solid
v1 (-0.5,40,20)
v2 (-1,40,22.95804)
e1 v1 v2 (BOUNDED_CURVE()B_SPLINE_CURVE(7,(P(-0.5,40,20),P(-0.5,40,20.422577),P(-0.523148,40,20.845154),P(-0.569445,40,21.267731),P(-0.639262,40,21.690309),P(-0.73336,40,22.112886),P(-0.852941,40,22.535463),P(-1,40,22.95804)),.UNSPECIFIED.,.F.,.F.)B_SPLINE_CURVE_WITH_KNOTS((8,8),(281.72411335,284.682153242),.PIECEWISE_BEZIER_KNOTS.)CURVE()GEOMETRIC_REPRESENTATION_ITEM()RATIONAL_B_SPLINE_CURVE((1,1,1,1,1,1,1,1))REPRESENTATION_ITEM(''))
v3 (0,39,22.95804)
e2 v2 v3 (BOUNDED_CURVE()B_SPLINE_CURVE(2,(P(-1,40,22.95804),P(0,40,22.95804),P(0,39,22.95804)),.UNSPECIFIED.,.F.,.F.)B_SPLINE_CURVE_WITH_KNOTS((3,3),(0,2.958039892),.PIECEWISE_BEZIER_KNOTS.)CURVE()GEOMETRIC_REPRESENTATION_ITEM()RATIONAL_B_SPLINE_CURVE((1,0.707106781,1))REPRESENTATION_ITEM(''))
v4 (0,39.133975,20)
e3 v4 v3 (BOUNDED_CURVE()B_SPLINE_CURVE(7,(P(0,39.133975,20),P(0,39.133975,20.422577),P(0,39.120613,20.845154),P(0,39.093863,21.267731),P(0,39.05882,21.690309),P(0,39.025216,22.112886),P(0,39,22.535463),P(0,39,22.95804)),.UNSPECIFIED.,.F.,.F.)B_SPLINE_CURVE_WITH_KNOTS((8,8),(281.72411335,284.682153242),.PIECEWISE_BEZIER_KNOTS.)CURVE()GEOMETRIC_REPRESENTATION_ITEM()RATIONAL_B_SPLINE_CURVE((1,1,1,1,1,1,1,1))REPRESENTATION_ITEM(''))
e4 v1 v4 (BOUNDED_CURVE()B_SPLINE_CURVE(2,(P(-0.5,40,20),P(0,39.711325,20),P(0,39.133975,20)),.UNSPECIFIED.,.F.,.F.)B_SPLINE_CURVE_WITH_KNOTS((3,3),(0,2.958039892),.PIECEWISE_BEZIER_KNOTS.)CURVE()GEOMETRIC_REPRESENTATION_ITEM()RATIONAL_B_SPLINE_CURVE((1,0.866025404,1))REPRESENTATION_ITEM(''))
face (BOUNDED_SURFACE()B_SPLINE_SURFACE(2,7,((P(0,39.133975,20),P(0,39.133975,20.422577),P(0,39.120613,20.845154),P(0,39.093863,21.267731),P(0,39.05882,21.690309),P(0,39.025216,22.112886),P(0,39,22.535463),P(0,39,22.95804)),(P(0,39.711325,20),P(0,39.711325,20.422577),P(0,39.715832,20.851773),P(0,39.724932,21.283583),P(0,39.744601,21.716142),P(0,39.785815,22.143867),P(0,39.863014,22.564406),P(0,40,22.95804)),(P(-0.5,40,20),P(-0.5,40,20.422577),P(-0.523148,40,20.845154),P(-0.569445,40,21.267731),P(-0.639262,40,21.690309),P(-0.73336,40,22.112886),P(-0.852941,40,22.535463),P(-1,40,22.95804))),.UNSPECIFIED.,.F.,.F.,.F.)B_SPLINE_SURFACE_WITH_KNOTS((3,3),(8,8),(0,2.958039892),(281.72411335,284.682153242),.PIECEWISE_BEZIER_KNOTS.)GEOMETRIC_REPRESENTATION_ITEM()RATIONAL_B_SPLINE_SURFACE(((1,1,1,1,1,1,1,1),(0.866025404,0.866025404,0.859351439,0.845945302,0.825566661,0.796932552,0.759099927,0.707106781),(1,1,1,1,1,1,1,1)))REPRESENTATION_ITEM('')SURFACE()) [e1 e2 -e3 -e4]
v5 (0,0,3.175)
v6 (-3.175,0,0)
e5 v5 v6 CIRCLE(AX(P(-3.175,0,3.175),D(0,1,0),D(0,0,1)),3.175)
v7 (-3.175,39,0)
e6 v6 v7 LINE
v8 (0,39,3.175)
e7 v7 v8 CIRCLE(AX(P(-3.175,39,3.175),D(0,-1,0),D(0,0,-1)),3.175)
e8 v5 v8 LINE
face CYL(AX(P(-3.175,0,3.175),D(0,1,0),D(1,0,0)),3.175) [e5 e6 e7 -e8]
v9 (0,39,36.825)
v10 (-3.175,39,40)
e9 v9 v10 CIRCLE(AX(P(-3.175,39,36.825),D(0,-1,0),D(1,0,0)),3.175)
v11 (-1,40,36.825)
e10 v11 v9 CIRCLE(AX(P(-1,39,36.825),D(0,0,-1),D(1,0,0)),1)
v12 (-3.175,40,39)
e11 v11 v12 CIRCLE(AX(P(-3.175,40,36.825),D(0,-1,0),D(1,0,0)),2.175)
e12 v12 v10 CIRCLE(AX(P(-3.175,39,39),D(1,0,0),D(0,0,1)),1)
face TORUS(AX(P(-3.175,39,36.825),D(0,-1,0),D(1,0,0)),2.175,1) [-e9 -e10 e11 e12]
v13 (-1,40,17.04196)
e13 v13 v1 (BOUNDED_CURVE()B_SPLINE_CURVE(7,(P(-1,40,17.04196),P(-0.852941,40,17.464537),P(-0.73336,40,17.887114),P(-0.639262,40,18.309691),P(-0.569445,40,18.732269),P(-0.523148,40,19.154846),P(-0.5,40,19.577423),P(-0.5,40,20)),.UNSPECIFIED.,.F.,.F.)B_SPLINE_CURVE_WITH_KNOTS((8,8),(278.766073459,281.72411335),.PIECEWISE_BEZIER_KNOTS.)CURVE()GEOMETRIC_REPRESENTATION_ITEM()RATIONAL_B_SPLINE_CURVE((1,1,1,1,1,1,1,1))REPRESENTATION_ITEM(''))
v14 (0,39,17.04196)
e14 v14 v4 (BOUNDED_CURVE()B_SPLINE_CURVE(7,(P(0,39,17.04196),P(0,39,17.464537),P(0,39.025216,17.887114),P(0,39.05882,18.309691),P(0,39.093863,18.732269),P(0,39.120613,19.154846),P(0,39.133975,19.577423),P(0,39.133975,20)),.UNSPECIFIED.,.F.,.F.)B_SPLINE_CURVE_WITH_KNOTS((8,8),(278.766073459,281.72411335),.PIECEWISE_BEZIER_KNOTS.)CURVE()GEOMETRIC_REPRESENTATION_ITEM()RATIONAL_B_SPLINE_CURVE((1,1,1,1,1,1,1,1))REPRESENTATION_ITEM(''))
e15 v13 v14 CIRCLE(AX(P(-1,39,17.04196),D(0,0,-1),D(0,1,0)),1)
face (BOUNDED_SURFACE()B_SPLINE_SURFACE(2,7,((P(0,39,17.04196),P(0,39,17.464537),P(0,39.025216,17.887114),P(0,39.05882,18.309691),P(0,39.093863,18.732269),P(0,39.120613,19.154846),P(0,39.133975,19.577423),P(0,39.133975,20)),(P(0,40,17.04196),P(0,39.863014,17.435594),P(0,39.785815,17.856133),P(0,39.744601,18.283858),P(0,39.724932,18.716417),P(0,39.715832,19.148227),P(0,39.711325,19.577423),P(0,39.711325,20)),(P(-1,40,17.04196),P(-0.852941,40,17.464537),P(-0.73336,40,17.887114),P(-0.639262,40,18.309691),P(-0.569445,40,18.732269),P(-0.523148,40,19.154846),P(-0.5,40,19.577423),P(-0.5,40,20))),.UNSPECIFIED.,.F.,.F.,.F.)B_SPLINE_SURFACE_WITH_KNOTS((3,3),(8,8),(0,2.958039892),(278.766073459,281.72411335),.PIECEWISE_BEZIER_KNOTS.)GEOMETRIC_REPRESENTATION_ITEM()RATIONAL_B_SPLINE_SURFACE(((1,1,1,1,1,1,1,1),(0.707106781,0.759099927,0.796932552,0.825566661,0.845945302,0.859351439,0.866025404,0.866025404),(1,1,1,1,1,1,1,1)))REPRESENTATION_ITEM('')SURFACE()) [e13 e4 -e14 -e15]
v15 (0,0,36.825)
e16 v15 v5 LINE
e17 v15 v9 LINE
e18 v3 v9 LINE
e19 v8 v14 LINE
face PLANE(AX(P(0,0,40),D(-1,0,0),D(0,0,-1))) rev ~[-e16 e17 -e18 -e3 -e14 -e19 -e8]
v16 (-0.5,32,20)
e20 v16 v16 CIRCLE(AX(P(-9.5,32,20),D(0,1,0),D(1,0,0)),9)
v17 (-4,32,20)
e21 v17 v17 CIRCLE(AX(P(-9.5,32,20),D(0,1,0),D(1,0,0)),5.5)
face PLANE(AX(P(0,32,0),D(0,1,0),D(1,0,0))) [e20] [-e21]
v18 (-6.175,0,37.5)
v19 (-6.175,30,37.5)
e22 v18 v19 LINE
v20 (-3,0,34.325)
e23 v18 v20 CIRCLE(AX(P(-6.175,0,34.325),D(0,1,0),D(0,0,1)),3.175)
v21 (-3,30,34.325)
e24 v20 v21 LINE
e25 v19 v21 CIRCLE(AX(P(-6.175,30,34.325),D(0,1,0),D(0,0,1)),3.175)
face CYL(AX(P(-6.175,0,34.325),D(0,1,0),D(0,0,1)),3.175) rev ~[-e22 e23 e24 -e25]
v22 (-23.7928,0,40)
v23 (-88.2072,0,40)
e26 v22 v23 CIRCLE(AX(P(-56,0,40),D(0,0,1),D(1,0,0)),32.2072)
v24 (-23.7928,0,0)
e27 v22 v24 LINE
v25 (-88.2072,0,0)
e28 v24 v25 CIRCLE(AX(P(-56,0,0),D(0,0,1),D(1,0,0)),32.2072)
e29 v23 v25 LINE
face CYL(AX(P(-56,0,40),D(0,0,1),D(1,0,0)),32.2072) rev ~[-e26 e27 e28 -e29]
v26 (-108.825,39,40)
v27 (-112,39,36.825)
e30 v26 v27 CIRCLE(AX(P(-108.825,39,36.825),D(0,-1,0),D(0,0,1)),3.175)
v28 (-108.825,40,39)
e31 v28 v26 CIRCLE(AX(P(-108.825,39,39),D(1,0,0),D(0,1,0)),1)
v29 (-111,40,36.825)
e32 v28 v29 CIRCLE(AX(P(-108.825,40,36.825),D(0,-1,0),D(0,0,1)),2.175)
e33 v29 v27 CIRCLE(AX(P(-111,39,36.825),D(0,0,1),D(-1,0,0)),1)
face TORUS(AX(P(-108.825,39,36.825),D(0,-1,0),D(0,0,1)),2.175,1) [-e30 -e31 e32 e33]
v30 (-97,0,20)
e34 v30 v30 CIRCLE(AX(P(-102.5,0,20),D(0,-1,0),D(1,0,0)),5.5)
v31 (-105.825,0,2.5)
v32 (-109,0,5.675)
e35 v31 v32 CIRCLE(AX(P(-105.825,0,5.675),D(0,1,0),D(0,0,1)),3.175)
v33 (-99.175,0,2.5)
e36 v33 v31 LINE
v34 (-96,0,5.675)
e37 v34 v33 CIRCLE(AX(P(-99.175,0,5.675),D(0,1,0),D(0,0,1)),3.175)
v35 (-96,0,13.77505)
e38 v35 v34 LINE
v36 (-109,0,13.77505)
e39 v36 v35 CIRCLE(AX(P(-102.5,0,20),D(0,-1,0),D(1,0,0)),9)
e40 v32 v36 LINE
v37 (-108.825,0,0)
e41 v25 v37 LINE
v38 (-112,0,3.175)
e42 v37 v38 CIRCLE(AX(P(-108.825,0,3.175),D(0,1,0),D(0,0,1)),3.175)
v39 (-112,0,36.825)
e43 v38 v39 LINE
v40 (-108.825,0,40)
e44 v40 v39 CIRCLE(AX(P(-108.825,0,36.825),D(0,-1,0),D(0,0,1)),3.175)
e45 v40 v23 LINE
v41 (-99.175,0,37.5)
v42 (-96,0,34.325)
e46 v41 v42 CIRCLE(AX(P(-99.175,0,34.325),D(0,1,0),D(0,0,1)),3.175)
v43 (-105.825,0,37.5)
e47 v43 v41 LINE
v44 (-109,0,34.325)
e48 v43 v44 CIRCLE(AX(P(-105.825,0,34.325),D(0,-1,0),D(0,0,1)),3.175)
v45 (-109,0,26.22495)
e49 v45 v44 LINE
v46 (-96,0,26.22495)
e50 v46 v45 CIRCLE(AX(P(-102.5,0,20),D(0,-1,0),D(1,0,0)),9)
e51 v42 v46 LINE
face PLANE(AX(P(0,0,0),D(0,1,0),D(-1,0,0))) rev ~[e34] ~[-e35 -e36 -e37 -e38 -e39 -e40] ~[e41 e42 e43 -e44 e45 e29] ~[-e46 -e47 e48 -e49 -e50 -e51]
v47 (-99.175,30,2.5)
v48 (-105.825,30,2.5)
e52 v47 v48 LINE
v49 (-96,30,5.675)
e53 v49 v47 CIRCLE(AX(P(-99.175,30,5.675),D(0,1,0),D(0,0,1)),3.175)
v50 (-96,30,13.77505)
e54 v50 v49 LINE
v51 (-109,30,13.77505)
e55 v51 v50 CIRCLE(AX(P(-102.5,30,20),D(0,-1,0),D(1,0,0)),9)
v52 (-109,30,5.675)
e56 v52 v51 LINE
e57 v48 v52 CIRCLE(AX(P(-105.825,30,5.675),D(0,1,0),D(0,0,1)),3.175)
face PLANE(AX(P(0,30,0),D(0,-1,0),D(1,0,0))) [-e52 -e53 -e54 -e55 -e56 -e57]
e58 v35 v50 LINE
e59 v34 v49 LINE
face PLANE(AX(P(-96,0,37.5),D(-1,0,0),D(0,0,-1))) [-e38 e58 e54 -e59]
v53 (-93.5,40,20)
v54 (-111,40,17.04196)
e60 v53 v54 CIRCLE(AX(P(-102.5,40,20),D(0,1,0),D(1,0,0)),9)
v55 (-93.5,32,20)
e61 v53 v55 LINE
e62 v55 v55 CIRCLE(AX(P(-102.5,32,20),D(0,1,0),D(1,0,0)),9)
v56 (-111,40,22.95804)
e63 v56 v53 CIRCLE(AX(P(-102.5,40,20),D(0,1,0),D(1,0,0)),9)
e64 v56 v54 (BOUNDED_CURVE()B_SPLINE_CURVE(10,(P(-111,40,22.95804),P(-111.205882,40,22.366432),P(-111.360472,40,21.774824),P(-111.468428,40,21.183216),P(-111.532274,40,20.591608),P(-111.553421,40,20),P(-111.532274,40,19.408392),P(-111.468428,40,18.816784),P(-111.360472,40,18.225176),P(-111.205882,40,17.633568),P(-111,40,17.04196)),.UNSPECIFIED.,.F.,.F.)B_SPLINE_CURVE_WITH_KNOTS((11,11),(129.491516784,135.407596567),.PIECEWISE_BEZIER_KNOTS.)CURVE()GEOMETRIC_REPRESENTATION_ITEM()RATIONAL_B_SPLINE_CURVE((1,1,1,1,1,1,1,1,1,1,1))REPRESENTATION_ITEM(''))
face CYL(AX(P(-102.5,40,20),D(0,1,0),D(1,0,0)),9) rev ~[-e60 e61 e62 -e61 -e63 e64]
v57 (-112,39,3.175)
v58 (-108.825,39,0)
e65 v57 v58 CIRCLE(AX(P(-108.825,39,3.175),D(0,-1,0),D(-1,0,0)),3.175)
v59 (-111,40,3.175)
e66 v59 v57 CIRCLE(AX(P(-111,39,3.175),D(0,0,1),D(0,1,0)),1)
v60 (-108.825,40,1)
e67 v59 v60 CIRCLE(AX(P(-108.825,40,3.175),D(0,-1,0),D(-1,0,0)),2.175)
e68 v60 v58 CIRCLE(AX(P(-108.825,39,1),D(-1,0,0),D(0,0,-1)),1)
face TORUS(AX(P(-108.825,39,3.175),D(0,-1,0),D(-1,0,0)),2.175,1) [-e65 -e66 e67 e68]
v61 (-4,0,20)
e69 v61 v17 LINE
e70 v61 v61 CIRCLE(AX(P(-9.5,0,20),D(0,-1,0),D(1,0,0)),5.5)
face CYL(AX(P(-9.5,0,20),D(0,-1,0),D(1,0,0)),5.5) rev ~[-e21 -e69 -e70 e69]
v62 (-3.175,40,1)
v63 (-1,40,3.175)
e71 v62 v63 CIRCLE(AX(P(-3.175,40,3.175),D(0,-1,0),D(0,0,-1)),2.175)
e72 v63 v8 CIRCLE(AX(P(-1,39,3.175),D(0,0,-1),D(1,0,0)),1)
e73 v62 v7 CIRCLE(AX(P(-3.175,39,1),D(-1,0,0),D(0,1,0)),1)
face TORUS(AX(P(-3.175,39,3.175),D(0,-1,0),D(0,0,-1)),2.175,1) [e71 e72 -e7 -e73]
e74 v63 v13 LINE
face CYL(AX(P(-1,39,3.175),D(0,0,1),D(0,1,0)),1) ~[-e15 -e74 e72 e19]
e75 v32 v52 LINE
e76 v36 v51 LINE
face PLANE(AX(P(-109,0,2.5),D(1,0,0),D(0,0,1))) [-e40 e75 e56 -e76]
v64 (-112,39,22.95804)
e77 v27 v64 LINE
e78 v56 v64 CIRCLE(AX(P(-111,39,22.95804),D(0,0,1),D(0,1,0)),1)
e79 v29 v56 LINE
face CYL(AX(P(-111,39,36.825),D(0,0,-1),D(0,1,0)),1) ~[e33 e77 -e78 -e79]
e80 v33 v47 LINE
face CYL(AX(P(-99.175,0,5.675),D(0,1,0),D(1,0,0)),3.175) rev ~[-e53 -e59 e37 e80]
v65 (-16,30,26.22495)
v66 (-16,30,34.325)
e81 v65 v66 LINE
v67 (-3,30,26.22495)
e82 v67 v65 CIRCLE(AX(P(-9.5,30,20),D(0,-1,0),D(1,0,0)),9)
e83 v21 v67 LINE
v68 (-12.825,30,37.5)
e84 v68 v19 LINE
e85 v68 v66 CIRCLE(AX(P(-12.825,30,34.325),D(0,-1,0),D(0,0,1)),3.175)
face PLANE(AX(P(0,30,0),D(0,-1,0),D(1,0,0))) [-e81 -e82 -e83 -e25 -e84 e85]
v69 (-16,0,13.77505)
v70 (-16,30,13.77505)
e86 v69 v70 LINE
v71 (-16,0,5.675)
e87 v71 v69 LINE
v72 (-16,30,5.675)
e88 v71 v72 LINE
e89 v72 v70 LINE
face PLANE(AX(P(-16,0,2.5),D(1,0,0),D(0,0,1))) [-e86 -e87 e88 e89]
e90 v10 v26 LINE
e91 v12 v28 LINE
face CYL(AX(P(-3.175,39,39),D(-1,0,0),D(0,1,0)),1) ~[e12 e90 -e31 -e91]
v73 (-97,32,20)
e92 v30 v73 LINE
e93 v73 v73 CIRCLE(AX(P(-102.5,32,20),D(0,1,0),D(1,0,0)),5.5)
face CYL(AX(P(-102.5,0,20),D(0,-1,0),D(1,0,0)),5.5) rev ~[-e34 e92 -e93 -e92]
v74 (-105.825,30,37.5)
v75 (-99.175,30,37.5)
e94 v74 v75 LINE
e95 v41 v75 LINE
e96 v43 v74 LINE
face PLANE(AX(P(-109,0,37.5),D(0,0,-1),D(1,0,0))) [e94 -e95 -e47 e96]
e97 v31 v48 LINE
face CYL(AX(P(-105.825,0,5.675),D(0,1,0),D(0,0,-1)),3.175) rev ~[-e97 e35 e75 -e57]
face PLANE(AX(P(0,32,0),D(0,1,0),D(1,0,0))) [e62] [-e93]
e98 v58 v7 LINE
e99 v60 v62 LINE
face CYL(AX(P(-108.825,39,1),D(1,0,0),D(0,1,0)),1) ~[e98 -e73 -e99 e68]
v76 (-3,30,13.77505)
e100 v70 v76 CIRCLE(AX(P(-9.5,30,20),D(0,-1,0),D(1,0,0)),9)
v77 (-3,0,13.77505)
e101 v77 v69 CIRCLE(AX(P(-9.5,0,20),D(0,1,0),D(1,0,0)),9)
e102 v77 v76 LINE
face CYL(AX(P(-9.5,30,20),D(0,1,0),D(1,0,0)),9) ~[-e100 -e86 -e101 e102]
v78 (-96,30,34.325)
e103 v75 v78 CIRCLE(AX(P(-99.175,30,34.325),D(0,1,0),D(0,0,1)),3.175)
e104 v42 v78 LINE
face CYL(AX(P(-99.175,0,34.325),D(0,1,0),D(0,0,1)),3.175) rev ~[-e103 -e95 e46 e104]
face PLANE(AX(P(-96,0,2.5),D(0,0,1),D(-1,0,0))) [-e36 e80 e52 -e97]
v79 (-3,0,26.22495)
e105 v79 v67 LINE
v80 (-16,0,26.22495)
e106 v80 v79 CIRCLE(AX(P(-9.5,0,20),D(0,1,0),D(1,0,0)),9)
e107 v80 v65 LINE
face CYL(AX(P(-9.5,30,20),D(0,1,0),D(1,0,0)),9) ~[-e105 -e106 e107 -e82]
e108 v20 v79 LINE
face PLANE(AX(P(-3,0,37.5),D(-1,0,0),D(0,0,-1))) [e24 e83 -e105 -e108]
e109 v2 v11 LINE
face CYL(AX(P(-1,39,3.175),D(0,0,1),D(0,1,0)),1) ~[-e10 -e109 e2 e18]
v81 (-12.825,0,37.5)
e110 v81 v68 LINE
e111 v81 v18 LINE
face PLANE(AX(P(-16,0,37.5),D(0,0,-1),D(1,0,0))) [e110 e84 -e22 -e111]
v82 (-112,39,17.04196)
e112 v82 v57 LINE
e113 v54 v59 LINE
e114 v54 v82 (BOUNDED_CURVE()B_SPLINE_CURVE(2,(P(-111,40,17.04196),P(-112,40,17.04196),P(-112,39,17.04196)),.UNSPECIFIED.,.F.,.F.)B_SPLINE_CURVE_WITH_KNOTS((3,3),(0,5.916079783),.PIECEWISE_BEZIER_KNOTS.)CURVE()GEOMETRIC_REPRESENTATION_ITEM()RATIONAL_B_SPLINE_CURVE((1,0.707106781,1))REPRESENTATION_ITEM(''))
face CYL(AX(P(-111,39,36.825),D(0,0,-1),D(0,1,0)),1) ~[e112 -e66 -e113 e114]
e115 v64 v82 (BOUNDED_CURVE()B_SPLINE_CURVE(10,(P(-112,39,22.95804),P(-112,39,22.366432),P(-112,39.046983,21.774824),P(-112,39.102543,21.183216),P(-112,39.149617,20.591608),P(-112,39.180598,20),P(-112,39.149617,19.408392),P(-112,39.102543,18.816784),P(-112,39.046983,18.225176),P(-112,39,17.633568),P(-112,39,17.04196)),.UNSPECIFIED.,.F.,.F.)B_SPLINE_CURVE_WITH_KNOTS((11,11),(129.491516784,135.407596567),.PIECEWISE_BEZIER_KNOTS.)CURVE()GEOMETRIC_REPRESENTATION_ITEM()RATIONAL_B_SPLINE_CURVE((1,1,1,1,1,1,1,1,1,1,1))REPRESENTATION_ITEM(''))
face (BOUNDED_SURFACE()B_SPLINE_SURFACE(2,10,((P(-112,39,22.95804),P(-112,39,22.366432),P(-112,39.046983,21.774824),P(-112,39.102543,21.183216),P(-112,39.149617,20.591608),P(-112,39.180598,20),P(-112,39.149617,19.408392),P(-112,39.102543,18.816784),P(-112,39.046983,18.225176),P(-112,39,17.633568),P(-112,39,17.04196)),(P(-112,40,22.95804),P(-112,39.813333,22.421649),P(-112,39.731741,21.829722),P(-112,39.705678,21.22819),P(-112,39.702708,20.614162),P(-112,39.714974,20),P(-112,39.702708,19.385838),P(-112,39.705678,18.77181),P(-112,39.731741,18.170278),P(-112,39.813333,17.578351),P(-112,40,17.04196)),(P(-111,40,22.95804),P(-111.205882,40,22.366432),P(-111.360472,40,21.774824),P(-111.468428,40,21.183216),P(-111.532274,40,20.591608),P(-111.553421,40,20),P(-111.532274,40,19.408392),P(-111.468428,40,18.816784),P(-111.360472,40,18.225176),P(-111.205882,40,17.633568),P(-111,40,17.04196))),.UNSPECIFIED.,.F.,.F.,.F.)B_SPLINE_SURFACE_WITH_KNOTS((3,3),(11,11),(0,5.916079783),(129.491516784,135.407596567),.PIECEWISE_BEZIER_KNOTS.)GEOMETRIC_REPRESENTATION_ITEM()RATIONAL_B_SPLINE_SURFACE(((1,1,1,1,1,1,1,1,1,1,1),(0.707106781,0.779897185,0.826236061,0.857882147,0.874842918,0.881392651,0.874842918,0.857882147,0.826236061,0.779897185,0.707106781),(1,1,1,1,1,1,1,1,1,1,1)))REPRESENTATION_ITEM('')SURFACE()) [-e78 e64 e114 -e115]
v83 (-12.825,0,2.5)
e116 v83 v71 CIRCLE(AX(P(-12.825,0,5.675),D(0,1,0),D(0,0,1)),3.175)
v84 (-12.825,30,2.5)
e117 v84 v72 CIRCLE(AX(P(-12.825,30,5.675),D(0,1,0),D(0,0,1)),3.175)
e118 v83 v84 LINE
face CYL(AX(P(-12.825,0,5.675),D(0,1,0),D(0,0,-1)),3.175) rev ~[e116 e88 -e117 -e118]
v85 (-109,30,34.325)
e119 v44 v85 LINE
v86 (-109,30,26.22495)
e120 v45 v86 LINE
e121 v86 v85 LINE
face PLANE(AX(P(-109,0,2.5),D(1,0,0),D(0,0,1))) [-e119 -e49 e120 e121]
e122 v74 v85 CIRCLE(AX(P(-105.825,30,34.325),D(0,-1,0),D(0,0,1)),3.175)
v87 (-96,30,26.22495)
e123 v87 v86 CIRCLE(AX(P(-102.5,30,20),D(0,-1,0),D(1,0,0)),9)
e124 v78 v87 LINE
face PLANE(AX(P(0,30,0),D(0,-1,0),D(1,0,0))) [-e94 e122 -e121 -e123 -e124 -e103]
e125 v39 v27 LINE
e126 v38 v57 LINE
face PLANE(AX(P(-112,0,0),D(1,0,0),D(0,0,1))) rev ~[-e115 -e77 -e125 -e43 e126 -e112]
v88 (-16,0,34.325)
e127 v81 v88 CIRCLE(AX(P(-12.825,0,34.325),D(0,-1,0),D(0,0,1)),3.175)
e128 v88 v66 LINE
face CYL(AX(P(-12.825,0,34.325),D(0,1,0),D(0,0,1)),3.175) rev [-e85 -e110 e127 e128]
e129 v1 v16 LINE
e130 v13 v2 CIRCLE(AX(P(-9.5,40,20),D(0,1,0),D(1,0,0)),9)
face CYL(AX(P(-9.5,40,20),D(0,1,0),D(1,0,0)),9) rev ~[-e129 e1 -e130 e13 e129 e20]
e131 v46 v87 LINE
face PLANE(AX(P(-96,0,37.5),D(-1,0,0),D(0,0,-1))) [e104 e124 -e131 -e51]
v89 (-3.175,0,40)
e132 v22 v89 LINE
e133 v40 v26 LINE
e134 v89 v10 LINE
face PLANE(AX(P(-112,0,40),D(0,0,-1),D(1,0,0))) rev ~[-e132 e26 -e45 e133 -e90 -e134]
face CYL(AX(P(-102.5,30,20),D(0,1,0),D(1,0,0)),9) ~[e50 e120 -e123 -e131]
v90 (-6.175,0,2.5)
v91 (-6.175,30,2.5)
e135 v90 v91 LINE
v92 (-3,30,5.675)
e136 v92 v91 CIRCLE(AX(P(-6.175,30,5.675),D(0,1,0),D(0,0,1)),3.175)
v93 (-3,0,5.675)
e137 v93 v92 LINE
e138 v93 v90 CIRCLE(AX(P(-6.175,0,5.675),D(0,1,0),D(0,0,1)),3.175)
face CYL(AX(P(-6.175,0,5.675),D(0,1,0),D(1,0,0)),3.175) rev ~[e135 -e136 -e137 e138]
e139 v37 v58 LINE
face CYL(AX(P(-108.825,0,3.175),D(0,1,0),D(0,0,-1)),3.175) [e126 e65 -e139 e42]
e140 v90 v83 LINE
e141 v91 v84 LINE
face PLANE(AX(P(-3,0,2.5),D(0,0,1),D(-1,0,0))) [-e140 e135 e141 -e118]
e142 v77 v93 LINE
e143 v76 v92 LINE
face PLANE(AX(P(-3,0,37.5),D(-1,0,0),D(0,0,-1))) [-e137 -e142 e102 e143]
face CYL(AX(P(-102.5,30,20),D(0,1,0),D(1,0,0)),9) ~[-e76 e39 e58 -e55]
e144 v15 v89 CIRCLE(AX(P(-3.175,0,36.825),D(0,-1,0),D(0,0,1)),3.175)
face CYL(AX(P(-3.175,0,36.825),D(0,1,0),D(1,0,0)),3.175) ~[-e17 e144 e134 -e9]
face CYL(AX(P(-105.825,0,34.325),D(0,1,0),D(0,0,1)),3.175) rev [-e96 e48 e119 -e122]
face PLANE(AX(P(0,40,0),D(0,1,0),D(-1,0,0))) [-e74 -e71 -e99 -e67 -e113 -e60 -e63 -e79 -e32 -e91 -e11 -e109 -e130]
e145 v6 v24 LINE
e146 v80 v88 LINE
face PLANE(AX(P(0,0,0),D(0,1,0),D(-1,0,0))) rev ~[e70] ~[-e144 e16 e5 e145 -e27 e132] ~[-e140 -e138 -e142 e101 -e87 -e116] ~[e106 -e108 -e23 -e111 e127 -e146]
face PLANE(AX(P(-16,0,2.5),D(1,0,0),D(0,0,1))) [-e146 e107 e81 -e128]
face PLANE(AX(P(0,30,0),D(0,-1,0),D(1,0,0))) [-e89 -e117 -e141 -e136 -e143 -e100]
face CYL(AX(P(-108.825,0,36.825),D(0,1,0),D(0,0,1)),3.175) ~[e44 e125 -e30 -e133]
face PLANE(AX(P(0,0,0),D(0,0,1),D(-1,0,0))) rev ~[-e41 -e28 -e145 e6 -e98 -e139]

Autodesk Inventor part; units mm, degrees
ref_plane "YZ Plane" through (0, 0, 0) normal (1, 0, 0) x (0, 1, 0)
ref_plane "XZ Plane" through (0, 0, 0) normal (0, 1, 0) x (-1, 0, 0)
ref_plane "XY Plane" through (0, 0, 0) normal (0, 0, 1) x (1, 0, 0)
sketch "Sketch13" plane through (0, 0, 0) normal (0, 1, 0) x (-1, 0, 0)
  line L0 (0, 0) -> (112, 0)
  line L1 (112, 0) -> (112, 40)
  line L2 (112, 40) -> (0, 40)
  line L3 (0, 40) -> (0, 0)
  dimension "d51" = 112
  dimension "d52" = 40
extrude "Extrusion11" add sketch "Sketch13" along normal blind 40
sketch "Sketch14" plane through (-112, 0, 40) normal (0, 0, 1) x (1, 0, 0)
  line L0 (0, 0) -> (0, 40) projected
  arc A0 (88.2072, 0) -> (23.7928, 0) centre (56, 0) ccw
  line L1 (23.7928, 0) -> (88.2072, 0)
  dimension "d88" = 32.2072
extrude "Extrusion12" cut sketch "Sketch14" against normal blind 40
sketch "Sketch15" plane through (0, 0, 0) normal (0, -1, 0) x (1, 0, 0)
  line L0 (-88.2072, 0) -> (-88.2072, 40) projected
  line L1 (-112, 40) -> (-88.2072, 40) projected
  line L2 (-112, 0) -> (-112, 40) projected
  line L3 (-88.2072, 0) -> (-112, 0) projected
  line L4 (-100.1315, 0) -> (-100.1315, 2.5) construction
  line L5 (-101.9977, 40) -> (-101.9977, 37.5) construction
  line L6 (-112, 20) -> (-109, 20) construction
  line L7 (-88.2072, 20) -> (-94.2072, 20) construction
  line L8 (-109, 37.5) -> (-96, 37.5)
  line L9 (-96, 37.5) -> (-96, 2.5)
  line L10 (-96, 2.5) -> (-109, 2.5)
  line L11 (-109, 2.5) -> (-109, 37.5)
  line L12 (-23.7928, 40) -> (-23.7928, 0) projected
  line L13 (-23.7928, 40) -> (-23.7928, 0) projected
  line L14 (0, 0) -> (-23.7928, 0) projected
  line L15 (0, 40) -> (0, 0) projected
  line L16 (-23.7928, 40) -> (0, 40) projected
  line L17 (0, 20) -> (-3, 20) construction
  line L18 (-11.8964, 0) -> (-11.8964, 2.5) construction
  line L19 (-11.8964, 40) -> (-11.8964, 37.5) construction
  line L20 (-23.7928, 20) -> (-17.7928, 20) construction
  line L21 (-16, 37.5) -> (-3, 37.5)
  line L22 (-3, 37.5) -> (-3, 2.5)
  line L23 (-3, 2.5) -> (-16, 2.5)
  line L24 (-16, 2.5) -> (-16, 37.5)
  dimension "d60" = 2.5
  dimension "d62" = 2.5
  dimension "d63" = 3
  dimension "d64" = 6
  dimension "d65" = 3
  dimension "d66" = 2.5
  dimension "d67" = 2.5
  dimension "d68" = 6
extrude "Extrusion13" cut sketch "Sketch15" against normal blind 30 contours L8 L9 L10 L11 | L21 L22 L23 L24
sketch "Sketch16" plane through (0, 30, 0) normal (0, -1, 0) x (1, 0, 0)
  line L0 (-16, 37.5) -> (-3, 37.5) projected
  line L1 (-16, 2.5) -> (-16, 37.5) projected
  line L2 (-3, 2.5) -> (-16, 2.5) projected
  line L3 (-3, 37.5) -> (-3, 2.5) projected
  circle A0 centre (-102.5, 20) radius 9
  circle A1 centre (-9.5, 20) radius 9
  point P0 (0, 0)
  dimension "d71" = 18
  dimension "d72" = 18
extrude "Extrusion14" add sketch "Sketch16" along normal blind 30 contours A1 L3 L1 | L1 A1 | A1 L3 | A0
sketch "Sketch17" plane through (0, 0, 0) normal (0, -1, 0) x (1, 0, 0)
  arc A0 (-109, 13.7751) -> (-96, 13.7751) centre (-102.5, 20) ccw projected
  line L0 (-16, 26.2249) -> (-16, 37.5) projected
  line L1 (-16, 37.5) -> (-3, 37.5) projected
  line L2 (-3, 37.5) -> (-3, 26.2249) projected
  arc A1 (-3, 26.2249) -> (-16, 26.2249) centre (-9.5, 20) ccw projected
  line L3 (-23.7928, 40) -> (-23.7928, 0) projected
  line L4 (0, 0) -> (-23.7928, 0) projected
  line L5 (0, 40) -> (0, 0) projected
  line L6 (-23.7928, 40) -> (0, 40) projected
  arc A2 (-16, 13.7751) -> (-3, 13.7751) centre (-9.5, 20) ccw projected
  line L7 (-3, 13.7751) -> (-3, 2.5) projected
  line L8 (-3, 2.5) -> (-16, 2.5) projected
  line L9 (-16, 2.5) -> (-16, 13.7751) projected
  circle A3 centre (-102.5, 20) radius 5.5
  circle A4 centre (-9.5, 20) radius 5.5
  dimension "d75" = 11
  dimension "d76" = 11
extrude "Extrusion15" cut sketch "Sketch17" against normal blind 76.2 contours A3 | A4
sketch "Sketch18" plane through (0, 40, 0) normal (0, 1, 0) x (1, 0, 0)
  circle A0 centre (-102.5, -20) radius 5.5 projected
  circle A1 centre (-9.5, -20) radius 5.5 projected
  circle A2 centre (-102.5, -20) radius 9
  circle A3 centre (-9.5, -20) radius 9
  dimension "d79" = 18
  dimension "d81" = 18
extrude "Extrusion16" cut sketch "Sketch18" against normal blind 8
fillet "Fillet3" radius 3.175 6 edges at (-16, 15, 2.5) (-3, 15, 2.5) (-16, 15, 37.5) (-3, 15, 37.5) (0, 20, 40) (0, 20, 0)
fillet "Fillet4" radius 3.175 6 edges at (-112, 20, 0) (-112, 20, 40) (-109, 15, 37.5) (-109, 15, 2.5) (-96, 15, 2.5) (-96, 15, 37.5)
fillet "Fillet5" radius 1 8 edges at (-0.9299, 40, 39.0701) (0, 40, 20) (-0.9299, 40, 0.9299) (-56, 40, 0) (-111.0701, 40, 0.9299) (-112, 40, 20) (-111.0701, 40, 39.0701) (-56, 40, 40)
equation "\"d62\" = d60"
equation "\"d65\" = d63"
equation "\"d66\" = d60"
equation "\"d67\" = d66"
equation "\"d68\" = d64"
equation "\"d81\" = d79"
properties part number "2.5 CIM mount" material "ABS Plastic"
